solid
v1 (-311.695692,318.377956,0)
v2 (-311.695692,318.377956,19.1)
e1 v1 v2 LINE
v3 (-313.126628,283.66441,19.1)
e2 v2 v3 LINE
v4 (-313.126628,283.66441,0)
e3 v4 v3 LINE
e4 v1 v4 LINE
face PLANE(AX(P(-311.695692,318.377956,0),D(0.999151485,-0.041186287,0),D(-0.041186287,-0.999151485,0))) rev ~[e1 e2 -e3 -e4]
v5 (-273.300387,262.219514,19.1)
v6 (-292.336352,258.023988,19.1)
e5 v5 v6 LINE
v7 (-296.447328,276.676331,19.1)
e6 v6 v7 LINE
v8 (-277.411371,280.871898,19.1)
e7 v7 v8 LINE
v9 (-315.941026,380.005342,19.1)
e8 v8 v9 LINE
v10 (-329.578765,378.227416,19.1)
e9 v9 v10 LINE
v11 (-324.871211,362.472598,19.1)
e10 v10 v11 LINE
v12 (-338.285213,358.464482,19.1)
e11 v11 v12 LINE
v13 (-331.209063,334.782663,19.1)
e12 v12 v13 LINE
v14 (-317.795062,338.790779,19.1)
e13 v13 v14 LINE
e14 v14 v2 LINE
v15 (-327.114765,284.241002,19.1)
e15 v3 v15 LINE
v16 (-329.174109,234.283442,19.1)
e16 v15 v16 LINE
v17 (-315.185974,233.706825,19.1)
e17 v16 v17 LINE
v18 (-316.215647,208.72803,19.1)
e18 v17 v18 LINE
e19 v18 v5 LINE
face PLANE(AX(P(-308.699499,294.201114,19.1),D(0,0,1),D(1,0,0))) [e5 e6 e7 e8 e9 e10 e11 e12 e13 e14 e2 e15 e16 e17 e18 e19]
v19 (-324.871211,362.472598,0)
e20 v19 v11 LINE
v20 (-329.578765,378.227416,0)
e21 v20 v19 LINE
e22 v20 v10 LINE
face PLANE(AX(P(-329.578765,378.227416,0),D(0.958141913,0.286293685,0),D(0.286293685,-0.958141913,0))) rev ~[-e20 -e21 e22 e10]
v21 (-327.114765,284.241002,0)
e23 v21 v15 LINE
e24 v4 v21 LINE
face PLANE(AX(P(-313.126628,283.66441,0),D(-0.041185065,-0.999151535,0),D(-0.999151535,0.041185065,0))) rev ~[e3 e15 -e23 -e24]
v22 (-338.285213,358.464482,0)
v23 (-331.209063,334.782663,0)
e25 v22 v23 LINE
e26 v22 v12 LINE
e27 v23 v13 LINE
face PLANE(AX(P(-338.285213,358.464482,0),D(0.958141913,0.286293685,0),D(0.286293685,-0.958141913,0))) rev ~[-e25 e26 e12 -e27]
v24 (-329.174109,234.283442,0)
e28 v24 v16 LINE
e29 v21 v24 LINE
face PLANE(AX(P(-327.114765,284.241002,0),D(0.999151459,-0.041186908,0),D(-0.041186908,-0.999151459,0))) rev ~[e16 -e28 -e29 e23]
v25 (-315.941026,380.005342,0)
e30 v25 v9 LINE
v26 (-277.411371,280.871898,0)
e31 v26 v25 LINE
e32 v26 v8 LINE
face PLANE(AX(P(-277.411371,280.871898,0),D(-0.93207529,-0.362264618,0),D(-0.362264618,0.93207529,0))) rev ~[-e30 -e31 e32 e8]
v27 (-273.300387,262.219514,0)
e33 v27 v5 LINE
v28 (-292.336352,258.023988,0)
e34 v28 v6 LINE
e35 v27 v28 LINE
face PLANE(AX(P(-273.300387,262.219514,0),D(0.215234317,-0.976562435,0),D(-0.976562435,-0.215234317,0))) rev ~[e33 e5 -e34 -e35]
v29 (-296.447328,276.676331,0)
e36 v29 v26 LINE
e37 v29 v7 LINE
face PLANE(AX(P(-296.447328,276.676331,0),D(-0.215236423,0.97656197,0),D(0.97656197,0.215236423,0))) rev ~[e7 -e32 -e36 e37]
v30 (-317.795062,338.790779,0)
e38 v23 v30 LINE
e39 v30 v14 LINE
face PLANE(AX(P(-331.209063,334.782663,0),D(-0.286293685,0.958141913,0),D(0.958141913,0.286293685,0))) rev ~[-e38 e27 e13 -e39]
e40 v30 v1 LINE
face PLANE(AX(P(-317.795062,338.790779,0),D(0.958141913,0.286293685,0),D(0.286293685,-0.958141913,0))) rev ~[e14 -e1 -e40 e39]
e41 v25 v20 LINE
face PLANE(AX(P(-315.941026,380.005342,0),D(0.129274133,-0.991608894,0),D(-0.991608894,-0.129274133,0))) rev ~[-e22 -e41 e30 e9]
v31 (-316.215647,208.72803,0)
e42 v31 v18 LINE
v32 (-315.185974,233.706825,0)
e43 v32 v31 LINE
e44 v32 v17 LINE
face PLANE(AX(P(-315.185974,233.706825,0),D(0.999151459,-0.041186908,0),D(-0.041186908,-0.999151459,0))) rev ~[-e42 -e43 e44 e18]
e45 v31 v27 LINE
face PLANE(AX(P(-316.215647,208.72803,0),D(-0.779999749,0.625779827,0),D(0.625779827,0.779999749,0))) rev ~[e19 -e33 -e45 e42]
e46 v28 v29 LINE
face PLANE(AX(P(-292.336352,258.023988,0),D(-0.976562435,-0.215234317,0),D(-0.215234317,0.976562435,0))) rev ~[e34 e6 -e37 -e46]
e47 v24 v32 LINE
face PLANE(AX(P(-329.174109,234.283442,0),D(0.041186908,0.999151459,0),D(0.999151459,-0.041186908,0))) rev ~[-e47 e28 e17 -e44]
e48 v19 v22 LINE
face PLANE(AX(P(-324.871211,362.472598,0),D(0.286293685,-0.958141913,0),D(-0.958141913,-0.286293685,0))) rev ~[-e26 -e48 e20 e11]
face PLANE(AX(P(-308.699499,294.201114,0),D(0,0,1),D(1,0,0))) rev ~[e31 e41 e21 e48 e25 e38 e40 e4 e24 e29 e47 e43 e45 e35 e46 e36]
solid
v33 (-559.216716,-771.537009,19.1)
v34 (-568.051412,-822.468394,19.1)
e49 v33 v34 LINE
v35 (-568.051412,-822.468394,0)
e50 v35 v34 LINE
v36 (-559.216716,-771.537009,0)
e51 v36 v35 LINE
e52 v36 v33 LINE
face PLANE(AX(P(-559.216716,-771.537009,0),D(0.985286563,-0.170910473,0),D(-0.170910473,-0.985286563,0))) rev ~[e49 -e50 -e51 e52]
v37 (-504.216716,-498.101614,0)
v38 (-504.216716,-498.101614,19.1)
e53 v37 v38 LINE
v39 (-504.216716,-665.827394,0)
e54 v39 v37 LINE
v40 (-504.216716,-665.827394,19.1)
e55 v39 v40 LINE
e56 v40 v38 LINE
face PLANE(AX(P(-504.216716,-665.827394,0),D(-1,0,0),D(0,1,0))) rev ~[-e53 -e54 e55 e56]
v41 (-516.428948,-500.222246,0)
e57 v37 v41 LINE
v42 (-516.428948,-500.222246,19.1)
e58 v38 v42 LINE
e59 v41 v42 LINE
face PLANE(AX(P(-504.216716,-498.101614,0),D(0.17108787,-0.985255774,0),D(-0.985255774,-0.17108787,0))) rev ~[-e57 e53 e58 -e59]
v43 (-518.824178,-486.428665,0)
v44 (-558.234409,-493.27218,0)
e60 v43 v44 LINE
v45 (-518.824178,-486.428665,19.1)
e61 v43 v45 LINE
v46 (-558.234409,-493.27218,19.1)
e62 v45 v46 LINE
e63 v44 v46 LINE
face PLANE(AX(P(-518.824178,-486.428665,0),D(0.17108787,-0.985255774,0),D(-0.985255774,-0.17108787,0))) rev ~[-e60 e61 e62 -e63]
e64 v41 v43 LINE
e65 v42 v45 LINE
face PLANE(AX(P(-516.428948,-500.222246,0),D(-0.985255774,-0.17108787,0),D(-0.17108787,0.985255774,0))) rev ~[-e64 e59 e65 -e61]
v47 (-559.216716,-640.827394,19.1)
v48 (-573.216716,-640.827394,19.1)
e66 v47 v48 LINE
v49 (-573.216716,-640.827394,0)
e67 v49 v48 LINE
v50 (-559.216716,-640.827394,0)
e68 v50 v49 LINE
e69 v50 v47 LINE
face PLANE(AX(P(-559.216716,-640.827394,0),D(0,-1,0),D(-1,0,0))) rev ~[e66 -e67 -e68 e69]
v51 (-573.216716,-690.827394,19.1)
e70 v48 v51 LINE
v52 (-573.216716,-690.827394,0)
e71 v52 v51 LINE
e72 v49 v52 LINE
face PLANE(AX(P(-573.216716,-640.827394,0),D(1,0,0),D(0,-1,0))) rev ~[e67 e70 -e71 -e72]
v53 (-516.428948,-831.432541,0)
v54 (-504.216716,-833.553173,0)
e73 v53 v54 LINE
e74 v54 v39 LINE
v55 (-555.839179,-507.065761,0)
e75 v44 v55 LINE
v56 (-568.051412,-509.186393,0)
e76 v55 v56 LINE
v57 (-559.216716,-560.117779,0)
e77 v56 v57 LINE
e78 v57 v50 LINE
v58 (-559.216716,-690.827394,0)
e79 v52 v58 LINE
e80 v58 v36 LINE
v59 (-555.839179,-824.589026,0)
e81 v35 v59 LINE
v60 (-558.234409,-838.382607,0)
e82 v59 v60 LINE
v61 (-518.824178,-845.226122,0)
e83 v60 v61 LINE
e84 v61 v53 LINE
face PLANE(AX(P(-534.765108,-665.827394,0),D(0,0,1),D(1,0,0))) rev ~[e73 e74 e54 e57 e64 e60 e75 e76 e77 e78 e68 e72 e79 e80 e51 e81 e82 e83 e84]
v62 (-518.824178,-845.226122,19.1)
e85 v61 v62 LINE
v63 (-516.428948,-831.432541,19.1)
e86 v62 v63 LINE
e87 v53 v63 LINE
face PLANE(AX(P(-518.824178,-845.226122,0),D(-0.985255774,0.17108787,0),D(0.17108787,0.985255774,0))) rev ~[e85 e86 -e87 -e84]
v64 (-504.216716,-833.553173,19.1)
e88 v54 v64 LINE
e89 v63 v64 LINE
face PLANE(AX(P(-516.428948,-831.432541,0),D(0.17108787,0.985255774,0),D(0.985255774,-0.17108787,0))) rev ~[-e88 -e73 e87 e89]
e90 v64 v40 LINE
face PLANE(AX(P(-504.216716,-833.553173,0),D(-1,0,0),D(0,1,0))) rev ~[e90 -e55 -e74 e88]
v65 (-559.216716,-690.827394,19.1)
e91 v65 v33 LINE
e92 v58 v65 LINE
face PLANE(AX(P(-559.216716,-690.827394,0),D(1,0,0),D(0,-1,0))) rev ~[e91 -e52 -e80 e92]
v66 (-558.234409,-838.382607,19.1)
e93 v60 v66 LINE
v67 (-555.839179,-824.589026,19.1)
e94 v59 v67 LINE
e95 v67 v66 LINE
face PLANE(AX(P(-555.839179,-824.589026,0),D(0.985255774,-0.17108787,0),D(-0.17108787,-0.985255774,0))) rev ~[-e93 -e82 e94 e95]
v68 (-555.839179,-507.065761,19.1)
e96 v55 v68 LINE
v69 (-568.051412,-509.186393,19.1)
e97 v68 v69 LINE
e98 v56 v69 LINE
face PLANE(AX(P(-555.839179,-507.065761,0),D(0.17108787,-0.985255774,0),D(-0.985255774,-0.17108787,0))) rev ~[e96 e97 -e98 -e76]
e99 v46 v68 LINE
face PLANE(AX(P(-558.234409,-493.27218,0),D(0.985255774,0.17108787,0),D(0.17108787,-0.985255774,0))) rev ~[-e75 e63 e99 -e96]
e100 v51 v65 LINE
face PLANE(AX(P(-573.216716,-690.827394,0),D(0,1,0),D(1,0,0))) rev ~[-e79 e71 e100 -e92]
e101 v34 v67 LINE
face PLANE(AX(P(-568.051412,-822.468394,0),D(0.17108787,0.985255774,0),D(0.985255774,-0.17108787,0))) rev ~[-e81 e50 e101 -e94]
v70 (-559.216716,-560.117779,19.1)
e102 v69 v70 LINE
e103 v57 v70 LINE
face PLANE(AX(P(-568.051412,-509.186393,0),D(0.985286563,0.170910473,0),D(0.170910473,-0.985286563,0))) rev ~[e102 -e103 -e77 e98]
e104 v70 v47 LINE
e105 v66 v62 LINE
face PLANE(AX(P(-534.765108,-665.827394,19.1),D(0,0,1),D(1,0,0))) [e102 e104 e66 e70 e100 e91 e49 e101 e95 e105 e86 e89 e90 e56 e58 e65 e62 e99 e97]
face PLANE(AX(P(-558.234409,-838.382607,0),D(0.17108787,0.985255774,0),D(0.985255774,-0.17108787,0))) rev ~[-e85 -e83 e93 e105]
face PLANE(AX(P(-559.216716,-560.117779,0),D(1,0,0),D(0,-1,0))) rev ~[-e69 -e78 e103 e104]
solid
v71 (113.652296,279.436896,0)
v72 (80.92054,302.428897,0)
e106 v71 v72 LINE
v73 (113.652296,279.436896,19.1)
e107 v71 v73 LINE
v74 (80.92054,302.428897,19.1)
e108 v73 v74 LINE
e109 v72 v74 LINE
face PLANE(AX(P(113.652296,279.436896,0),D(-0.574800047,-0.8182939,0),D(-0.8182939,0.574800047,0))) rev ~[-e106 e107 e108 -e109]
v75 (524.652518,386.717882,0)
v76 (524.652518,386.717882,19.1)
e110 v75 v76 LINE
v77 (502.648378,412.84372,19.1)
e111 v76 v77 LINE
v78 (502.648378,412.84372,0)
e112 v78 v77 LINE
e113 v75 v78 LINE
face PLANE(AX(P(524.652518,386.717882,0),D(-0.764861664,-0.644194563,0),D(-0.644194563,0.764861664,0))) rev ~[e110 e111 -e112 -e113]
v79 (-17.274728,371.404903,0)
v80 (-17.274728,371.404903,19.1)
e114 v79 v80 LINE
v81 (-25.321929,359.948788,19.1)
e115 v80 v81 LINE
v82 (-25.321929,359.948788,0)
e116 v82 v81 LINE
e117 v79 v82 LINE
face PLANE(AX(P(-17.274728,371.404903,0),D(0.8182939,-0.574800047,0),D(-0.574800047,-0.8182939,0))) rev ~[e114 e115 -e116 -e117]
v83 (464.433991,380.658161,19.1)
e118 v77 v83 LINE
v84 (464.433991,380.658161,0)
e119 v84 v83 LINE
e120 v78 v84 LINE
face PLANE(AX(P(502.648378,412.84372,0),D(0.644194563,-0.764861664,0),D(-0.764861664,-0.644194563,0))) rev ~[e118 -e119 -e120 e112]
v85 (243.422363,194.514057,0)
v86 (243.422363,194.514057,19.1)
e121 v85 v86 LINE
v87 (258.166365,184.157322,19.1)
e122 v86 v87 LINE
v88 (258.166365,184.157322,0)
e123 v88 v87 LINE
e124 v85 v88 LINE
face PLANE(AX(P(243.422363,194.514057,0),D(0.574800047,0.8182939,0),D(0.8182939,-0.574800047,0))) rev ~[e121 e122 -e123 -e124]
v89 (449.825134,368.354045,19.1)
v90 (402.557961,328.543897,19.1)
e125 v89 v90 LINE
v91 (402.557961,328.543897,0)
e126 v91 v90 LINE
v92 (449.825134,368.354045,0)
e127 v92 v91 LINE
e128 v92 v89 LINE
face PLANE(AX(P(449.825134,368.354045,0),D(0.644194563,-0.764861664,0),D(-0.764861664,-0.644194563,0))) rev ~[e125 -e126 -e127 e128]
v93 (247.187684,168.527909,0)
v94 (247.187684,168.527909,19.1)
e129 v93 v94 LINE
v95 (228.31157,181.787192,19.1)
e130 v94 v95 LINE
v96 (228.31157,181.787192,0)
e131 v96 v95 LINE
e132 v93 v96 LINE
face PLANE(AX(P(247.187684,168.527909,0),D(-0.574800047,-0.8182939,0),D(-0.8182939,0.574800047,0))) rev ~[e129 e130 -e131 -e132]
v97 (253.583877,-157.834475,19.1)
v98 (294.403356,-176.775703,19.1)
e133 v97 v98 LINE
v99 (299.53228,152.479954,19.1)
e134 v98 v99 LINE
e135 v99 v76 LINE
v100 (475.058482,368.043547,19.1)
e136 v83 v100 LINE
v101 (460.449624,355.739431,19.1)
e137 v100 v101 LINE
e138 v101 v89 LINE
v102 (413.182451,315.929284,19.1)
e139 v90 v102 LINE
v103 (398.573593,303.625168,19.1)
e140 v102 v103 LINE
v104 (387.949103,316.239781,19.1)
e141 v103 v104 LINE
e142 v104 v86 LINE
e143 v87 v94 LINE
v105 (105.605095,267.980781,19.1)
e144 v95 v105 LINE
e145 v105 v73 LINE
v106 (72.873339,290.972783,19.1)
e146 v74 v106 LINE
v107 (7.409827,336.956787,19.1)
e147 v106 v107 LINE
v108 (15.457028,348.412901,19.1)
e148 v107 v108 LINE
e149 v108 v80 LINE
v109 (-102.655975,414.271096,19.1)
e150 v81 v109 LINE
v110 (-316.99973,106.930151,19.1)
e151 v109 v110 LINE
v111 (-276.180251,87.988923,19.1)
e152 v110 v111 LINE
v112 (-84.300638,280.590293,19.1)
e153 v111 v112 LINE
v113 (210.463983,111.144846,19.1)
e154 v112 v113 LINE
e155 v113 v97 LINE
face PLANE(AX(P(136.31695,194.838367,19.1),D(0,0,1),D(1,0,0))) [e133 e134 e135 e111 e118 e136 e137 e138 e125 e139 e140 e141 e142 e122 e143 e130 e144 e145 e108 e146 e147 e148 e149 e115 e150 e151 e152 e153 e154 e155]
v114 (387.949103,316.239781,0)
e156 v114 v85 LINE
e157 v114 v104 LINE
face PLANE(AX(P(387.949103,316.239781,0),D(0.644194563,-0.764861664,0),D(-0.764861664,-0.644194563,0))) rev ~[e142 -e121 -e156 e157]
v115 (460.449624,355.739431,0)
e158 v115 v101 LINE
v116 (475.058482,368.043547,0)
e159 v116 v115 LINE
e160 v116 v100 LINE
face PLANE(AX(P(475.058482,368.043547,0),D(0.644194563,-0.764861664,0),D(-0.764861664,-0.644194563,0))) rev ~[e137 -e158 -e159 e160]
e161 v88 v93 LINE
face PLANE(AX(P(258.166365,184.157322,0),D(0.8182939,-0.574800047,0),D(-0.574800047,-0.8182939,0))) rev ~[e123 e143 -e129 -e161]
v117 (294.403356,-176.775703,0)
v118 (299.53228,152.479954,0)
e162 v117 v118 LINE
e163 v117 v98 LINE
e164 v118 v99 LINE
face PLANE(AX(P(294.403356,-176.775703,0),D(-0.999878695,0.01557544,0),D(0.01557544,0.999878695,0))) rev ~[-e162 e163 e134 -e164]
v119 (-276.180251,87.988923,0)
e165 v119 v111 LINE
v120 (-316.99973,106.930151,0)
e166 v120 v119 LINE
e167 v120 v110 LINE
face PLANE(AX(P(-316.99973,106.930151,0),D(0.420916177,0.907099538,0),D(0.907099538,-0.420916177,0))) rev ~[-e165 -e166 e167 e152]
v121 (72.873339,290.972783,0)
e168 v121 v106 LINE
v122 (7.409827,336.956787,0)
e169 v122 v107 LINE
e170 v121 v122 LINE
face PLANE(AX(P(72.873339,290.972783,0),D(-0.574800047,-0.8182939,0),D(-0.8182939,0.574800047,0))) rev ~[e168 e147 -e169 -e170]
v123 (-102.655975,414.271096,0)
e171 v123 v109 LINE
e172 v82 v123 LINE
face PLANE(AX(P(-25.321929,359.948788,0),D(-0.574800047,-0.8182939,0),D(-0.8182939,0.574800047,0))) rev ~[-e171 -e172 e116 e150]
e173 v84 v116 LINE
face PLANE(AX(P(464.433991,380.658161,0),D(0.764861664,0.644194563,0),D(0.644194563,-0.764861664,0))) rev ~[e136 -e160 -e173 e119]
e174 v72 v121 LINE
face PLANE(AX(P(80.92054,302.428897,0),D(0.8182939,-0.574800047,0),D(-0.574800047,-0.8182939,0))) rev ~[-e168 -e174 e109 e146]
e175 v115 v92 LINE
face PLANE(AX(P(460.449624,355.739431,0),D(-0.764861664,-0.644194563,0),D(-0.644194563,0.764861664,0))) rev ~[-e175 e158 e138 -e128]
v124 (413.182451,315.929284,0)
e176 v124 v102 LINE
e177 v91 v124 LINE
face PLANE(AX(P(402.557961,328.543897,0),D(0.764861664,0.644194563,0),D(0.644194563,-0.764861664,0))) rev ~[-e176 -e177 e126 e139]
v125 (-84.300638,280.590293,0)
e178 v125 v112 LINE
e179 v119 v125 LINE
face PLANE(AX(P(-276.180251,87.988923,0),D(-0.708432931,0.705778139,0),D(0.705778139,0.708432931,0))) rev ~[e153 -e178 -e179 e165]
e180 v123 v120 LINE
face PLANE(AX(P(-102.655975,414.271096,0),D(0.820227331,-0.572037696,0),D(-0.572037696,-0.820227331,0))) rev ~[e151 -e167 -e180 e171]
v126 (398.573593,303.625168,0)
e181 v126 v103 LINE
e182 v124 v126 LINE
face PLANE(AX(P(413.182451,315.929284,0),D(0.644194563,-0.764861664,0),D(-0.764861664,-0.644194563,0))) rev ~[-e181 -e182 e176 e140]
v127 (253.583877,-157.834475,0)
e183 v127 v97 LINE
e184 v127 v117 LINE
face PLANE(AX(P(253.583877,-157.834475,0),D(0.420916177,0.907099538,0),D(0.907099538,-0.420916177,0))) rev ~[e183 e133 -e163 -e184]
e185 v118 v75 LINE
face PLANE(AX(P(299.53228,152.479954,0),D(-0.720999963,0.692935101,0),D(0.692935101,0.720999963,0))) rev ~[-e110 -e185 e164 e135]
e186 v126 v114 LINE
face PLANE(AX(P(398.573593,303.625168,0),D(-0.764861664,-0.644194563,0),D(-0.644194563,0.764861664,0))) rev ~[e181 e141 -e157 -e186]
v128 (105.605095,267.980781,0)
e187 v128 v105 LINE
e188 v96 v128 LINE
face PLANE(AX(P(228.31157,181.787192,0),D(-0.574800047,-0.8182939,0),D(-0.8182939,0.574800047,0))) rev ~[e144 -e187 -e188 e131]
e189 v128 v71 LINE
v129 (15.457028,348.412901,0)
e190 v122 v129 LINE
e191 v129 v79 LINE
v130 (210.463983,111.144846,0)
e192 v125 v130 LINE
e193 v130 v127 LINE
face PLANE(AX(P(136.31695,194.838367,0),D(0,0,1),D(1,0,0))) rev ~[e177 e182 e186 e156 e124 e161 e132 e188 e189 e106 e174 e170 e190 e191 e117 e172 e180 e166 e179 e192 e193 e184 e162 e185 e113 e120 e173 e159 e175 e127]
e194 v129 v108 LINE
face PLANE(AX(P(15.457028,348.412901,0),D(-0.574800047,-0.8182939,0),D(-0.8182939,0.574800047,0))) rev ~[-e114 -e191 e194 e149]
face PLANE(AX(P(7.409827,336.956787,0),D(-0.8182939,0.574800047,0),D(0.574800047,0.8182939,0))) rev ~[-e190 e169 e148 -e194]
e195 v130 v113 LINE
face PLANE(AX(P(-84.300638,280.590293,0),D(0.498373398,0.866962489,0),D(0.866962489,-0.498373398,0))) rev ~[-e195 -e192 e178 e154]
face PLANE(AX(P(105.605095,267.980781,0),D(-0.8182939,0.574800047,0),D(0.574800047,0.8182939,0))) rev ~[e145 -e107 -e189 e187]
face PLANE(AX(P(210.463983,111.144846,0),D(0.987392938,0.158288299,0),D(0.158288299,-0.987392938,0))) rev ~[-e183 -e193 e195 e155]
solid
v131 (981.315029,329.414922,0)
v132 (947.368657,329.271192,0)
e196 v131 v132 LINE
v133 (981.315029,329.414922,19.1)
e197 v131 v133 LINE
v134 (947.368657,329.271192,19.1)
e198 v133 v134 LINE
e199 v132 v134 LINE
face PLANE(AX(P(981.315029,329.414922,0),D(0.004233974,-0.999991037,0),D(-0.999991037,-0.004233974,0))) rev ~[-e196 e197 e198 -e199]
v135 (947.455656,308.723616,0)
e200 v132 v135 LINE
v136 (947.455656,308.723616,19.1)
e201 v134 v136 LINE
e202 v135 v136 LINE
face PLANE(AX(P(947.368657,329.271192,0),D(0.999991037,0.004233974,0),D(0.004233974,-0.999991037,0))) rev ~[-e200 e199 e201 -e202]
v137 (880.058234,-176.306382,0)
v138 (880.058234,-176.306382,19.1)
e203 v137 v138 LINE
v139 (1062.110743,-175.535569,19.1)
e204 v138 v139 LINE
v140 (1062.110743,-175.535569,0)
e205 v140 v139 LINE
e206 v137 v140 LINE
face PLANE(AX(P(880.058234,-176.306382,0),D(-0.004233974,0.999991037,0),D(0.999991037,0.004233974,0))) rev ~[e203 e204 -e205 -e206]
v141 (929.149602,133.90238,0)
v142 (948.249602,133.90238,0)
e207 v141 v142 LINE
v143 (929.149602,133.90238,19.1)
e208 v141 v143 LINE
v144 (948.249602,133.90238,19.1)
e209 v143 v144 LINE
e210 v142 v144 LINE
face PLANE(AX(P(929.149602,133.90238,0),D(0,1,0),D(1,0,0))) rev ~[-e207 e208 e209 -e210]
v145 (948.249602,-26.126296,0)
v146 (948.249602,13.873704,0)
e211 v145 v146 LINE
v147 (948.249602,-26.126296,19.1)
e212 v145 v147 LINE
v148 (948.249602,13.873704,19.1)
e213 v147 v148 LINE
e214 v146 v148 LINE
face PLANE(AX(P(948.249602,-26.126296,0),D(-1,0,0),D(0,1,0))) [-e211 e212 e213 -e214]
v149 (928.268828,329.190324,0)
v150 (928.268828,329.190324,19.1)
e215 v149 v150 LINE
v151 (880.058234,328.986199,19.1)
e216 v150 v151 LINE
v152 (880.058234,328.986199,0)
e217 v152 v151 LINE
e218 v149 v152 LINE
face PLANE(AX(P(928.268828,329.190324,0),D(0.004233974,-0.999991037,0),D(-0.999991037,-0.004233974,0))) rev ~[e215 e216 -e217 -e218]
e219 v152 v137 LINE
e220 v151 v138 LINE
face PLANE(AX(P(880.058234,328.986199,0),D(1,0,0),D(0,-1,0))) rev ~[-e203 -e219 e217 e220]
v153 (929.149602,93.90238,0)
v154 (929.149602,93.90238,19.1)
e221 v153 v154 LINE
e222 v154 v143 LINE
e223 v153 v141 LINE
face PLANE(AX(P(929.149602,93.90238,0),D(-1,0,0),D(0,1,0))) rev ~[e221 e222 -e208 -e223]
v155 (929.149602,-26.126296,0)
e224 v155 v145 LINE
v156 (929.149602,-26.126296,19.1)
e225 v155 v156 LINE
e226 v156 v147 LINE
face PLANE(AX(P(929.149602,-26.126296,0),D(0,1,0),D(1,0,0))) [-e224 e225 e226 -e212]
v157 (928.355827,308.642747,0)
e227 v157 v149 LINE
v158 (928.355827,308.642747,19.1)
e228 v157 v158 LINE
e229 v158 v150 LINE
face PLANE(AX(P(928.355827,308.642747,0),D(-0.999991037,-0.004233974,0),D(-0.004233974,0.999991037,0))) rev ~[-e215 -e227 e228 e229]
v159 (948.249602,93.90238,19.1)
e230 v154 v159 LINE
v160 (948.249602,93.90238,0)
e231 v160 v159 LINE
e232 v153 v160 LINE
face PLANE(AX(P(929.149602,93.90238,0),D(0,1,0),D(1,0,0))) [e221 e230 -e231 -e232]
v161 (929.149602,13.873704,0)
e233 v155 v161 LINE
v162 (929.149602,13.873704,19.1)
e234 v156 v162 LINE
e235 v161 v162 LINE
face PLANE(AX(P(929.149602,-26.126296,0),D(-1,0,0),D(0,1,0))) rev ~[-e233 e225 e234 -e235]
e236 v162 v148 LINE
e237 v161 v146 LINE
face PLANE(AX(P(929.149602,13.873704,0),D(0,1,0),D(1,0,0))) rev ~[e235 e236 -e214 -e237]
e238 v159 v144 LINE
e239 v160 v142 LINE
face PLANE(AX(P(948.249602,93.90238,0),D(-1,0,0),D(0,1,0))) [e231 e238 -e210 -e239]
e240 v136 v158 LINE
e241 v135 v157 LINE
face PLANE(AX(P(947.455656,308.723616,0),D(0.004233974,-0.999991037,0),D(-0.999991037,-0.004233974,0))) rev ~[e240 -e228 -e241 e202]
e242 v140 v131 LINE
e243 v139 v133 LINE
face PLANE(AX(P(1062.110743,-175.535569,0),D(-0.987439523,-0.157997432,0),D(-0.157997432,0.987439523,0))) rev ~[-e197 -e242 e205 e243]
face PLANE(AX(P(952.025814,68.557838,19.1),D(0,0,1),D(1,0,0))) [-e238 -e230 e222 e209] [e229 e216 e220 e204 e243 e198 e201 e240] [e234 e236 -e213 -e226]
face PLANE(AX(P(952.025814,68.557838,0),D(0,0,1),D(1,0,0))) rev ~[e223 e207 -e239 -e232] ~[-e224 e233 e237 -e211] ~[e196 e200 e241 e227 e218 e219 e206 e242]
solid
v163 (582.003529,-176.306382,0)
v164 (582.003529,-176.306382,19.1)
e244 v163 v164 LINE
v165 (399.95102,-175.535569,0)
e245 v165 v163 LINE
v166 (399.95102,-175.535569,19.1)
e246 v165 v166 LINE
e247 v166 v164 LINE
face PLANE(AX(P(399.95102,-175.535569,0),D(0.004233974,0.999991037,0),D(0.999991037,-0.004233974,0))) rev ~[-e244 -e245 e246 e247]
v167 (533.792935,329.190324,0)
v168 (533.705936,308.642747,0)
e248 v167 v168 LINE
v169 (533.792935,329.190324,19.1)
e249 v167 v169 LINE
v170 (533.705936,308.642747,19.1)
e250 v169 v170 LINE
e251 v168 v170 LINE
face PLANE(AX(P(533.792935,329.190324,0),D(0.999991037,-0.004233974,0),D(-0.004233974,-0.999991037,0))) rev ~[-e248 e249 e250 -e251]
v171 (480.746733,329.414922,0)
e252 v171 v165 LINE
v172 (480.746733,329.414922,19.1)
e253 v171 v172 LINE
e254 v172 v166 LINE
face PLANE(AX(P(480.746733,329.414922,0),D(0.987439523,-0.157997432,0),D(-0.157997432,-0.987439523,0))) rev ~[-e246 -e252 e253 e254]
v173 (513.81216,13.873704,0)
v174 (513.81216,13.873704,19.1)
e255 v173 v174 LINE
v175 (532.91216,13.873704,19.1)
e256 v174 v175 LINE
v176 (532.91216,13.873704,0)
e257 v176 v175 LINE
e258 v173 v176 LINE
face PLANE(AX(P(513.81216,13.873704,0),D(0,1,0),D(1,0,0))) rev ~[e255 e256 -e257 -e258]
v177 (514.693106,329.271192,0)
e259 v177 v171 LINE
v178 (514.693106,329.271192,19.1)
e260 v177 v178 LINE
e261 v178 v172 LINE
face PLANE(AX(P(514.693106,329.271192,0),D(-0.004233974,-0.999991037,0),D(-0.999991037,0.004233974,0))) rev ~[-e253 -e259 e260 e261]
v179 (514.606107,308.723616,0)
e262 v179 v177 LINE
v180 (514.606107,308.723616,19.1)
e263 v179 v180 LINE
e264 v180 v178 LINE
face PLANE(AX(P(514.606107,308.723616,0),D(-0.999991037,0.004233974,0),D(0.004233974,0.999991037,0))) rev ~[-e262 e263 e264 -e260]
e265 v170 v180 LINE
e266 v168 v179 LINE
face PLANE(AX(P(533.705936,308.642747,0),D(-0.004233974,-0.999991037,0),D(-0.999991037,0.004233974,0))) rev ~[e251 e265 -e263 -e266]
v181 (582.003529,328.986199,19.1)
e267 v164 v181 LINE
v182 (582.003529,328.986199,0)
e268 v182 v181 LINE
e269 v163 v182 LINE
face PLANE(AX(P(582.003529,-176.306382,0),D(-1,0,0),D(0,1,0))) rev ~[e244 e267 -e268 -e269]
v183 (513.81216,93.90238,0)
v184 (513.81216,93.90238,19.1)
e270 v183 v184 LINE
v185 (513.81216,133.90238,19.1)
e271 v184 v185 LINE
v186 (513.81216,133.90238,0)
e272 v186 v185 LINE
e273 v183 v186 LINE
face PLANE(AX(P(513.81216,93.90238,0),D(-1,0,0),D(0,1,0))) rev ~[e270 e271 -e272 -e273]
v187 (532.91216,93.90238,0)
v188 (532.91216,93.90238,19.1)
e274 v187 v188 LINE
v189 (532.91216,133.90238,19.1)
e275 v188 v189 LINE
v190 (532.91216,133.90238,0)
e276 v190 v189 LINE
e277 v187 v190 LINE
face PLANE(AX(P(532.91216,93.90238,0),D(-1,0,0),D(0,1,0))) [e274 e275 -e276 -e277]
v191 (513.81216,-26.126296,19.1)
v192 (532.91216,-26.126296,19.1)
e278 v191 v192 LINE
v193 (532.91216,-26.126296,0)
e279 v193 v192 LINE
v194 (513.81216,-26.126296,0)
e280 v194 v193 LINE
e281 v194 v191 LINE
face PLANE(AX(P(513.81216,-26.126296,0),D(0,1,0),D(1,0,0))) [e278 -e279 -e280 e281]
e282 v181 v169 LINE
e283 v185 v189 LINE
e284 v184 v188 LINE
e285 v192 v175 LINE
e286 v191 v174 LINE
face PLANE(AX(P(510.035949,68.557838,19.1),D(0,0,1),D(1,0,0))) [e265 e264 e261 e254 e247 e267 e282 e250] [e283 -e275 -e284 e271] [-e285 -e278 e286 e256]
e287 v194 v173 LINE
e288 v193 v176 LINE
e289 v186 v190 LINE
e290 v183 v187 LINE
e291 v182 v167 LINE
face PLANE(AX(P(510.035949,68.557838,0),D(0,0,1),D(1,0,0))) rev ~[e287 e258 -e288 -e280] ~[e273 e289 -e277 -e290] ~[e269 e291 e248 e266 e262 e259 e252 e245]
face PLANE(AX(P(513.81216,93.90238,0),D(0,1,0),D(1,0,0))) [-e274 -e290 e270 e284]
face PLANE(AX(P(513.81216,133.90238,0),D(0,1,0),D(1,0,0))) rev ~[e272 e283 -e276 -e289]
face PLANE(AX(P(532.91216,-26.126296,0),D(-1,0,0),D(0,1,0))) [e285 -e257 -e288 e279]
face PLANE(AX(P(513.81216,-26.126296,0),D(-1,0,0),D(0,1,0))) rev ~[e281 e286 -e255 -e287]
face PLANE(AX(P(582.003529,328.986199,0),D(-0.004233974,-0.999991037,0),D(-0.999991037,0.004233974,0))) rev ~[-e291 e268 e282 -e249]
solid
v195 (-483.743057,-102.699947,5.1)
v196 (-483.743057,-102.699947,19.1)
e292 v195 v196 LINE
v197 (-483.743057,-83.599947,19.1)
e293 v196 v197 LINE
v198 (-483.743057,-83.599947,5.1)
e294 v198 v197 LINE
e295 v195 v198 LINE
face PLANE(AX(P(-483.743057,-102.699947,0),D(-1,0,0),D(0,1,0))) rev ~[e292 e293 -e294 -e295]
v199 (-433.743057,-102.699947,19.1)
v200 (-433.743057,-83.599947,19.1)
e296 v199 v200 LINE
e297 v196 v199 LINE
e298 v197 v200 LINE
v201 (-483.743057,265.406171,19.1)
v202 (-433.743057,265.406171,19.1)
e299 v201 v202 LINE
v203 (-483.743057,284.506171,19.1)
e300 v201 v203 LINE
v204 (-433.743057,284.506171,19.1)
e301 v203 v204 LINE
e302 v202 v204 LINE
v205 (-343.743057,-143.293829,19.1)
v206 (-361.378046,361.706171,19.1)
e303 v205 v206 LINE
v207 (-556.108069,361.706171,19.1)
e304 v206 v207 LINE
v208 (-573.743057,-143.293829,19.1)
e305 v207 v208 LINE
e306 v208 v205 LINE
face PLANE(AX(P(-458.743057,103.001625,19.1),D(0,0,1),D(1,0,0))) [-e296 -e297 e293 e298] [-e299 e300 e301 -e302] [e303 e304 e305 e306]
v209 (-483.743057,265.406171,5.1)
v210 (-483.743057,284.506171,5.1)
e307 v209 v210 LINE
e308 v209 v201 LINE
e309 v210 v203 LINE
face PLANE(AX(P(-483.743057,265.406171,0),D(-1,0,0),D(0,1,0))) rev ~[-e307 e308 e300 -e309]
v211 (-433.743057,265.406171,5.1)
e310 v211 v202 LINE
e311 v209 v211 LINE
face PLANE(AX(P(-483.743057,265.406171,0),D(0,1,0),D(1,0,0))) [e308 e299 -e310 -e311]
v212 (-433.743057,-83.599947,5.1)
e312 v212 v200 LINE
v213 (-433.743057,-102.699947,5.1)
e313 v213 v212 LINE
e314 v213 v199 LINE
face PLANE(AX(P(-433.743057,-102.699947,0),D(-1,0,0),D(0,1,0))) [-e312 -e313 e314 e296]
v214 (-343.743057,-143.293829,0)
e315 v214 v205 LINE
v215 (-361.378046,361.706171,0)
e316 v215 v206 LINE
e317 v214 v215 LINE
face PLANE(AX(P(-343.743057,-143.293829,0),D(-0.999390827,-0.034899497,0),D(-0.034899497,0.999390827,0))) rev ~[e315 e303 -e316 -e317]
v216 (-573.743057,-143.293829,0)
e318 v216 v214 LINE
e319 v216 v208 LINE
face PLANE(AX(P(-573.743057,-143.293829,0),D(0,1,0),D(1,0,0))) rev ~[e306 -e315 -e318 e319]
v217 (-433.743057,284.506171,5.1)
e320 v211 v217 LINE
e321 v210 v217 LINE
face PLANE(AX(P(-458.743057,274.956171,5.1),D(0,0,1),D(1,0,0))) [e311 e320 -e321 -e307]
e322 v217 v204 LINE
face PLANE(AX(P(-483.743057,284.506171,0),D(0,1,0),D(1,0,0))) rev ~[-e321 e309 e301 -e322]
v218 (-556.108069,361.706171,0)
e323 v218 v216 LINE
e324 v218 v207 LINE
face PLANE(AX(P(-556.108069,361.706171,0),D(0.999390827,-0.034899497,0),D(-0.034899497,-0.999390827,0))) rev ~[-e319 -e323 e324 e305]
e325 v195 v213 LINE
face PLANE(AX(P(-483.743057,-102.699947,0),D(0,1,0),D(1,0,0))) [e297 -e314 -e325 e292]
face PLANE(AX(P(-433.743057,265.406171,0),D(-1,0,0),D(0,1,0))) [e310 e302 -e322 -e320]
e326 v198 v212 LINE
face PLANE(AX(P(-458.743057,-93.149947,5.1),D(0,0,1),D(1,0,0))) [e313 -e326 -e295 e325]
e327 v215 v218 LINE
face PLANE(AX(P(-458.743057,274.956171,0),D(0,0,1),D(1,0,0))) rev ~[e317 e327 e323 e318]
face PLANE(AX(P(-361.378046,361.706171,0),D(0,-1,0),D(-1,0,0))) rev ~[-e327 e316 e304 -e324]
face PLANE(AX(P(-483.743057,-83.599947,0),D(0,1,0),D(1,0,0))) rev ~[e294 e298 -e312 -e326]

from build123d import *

# Parameters (mm, degrees)
F8_DEPTH  = 19.1
F5_W      = 50
F5_H      = 19.1
F9_DEPTH  = 19.1
F10_DEPTH = 5.1
F7_W      = 19.1
F7_H      = 40
F11_DEPTH = 19.1
F12_DEPTH = 19.1
F13_DEPTH = 19.1
F14_DEPTH = 19.1


with BuildPart() as f8:
    # F4 (on Top) → F8 (new body)
    with BuildSketch(Plane.XY):
        Polygon((-313.1266277774, 283.6644104903), (-327.1147646324, 284.2410020329), (-329.1741094881, 234.2834420546), (-315.1859736966, 233.7068247119), (-316.2156467329, 208.7280299609), (-273.3003869716, 262.2195143856), (-292.3363522535, 258.0239884914), (-296.4473277028, 276.6763309864), (-277.4113714695, 280.8718979359), (-315.9410263327, 380.0053418764), (-329.5787654228, 378.2274162112), (-324.8712113565, 362.4725983647), (-338.2852128724, 358.4644823715), (-331.2090634127, 334.7826628481), (-317.7950618968, 338.7907788413), (-311.6956915548, 318.3779556716), align=None)
    extrude(amount=F8_DEPTH)


with BuildPart() as f9:
    # F5 (on Top) → F9 (new body)
    with BuildSketch(Plane.XY):
        Polygon((-361.3780457647, 361.7061713082), (-556.1080685776, 361.7061713082), (-573.7430571711, -143.2938286987), (-343.7430571711, -143.2938286987), align=None)
        with Locations((-458.7430571711, -93.149946513)):
            Rectangle(F5_W, F5_H, mode=Mode.SUBTRACT)
        with Locations((-458.7430571711, 274.9561713082)):
            Rectangle(F5_W, F5_H, mode=Mode.SUBTRACT)
    extrude(amount=F9_DEPTH)

    # F5 (on Top) → F10 (join)
    with BuildSketch(Plane.XY):
        with Locations((-458.7430571711, 274.9561713082)):
            Rectangle(F5_W, F5_H)
        with Locations((-458.7430571711, -93.149946513)):
            Rectangle(F5_W, F5_H)
    extrude(amount=F10_DEPTH)


with BuildPart() as f11:
    # F7 (on Top) → F11 (new body)
    with BuildSketch(Plane.XY):
        Polygon((582.0035287882, -176.3063819392), (582.0035287882, 328.9861993314), (533.7929346044, 329.1903235698), (533.7059359161, 308.6427468278), (514.6061071153, 308.7236157337), (514.6931058036, 329.2711924758), (480.7467333972, 329.4149218268), (399.951019882, -175.5355694162), align=None)
        with Locations((523.362160485, -6.1262955917)):
            Rectangle(F7_W, F7_H, mode=Mode.SUBTRACT)
        with Locations((523.362160485, 113.9023802395)):
            Rectangle(F7_W, F7_H, mode=Mode.SUBTRACT)
    extrude(amount=F11_DEPTH)


with BuildPart() as f12:
    # F7 (on Top) → F12 (new body)
    with BuildSketch(Plane.XY):
        Polygon((947.4556556945, 308.7236157337), (928.3558268936, 308.6427468278), (928.2688282054, 329.1903235698), (880.0582340215, 328.9861993314), (880.0582340215, -176.3063819392), (1062.1107429277, -175.5355694162), (981.3150294126, 329.4149218268), (947.3686570062, 329.2711924758), align=None)
        with Locations((938.6996023248, -6.1262955917)):
            Rectangle(F7_W, F7_H, mode=Mode.SUBTRACT)
        with Locations((938.6996023248, 113.9023802395)):
            Rectangle(F7_W, F7_H, mode=Mode.SUBTRACT)
    extrude(amount=F12_DEPTH)


with BuildPart() as f13:
    # F6 (on Top) → F13 (new body)
    with BuildSketch(Plane.XY):
        Polygon((-102.6559747542, 414.2710963537), (-316.9997298591, 106.9301511755), (-276.1802506404, 87.988923224), (-84.3006384796, 280.5902925922), (210.4639827755, 111.1448463205), (253.5838772676, -157.834475293), (294.4033564863, -176.7757032445), (299.5322804337, 152.4799536751), (524.6525175935, 386.7178821382), (502.648378277, 412.8437198576), (464.4339913585, 380.6581607692), (475.0584816431, 368.0435474443), (460.4496238611, 355.7394312914), (449.8251335765, 368.3540446163), (402.5579608011, 328.5438970522), (413.1824510857, 315.9292837272), (398.5735933037, 303.6251675743), (387.9491030191, 316.2397808993), (243.4223633701, 194.5140567959), (258.1663649741, 184.1573221161), (247.1876840831, 168.5279086309), (228.3115703971, 181.7871924047), (105.6050950916, 267.9807809809), (113.6522957447, 279.4368955775), (80.9205397546, 302.4288974434), (72.8733391015, 290.9727828469), (7.4098271213, 336.9567865788), (15.4570277744, 348.4129011753), (-17.2747282158, 371.4049030412), (-25.3219288688, 359.9487884447), align=None)
    extrude(amount=F13_DEPTH)


with BuildPart() as f14:
    # F2 (on Top) → F14 (new body)
    with BuildSketch(Plane.XY):
        Polygon((-559.2167156932, -771.5370085048), (-568.0514116688, -822.4683943254), (-555.8391791674, -824.5890262445), (-558.2344093439, -838.3826070849), (-518.8241783712, -845.2261218748), (-516.4289481947, -831.4325410344), (-504.2167156934, -833.5531729535), (-504.216715693, -665.8273935318), (-504.2167156934, -498.1016141101), (-516.4289481947, -500.2222460292), (-518.8241783712, -486.4286651888), (-558.2344093439, -493.2721799787), (-555.8391791674, -507.0657608191), (-568.0514116688, -509.1863927382), (-559.2167156932, -560.1177785588), (-559.216715693, -640.8273935318), (-573.216715693, -640.8273935318), (-573.216715693, -665.8273935318), (-573.216715693, -690.8273935318), (-559.216715693, -690.8273935318), align=None)
    extrude(amount=F14_DEPTH)


solid = Compound([f8.part, f9.part, f11.part, f12.part, f13.part, f14.part])
